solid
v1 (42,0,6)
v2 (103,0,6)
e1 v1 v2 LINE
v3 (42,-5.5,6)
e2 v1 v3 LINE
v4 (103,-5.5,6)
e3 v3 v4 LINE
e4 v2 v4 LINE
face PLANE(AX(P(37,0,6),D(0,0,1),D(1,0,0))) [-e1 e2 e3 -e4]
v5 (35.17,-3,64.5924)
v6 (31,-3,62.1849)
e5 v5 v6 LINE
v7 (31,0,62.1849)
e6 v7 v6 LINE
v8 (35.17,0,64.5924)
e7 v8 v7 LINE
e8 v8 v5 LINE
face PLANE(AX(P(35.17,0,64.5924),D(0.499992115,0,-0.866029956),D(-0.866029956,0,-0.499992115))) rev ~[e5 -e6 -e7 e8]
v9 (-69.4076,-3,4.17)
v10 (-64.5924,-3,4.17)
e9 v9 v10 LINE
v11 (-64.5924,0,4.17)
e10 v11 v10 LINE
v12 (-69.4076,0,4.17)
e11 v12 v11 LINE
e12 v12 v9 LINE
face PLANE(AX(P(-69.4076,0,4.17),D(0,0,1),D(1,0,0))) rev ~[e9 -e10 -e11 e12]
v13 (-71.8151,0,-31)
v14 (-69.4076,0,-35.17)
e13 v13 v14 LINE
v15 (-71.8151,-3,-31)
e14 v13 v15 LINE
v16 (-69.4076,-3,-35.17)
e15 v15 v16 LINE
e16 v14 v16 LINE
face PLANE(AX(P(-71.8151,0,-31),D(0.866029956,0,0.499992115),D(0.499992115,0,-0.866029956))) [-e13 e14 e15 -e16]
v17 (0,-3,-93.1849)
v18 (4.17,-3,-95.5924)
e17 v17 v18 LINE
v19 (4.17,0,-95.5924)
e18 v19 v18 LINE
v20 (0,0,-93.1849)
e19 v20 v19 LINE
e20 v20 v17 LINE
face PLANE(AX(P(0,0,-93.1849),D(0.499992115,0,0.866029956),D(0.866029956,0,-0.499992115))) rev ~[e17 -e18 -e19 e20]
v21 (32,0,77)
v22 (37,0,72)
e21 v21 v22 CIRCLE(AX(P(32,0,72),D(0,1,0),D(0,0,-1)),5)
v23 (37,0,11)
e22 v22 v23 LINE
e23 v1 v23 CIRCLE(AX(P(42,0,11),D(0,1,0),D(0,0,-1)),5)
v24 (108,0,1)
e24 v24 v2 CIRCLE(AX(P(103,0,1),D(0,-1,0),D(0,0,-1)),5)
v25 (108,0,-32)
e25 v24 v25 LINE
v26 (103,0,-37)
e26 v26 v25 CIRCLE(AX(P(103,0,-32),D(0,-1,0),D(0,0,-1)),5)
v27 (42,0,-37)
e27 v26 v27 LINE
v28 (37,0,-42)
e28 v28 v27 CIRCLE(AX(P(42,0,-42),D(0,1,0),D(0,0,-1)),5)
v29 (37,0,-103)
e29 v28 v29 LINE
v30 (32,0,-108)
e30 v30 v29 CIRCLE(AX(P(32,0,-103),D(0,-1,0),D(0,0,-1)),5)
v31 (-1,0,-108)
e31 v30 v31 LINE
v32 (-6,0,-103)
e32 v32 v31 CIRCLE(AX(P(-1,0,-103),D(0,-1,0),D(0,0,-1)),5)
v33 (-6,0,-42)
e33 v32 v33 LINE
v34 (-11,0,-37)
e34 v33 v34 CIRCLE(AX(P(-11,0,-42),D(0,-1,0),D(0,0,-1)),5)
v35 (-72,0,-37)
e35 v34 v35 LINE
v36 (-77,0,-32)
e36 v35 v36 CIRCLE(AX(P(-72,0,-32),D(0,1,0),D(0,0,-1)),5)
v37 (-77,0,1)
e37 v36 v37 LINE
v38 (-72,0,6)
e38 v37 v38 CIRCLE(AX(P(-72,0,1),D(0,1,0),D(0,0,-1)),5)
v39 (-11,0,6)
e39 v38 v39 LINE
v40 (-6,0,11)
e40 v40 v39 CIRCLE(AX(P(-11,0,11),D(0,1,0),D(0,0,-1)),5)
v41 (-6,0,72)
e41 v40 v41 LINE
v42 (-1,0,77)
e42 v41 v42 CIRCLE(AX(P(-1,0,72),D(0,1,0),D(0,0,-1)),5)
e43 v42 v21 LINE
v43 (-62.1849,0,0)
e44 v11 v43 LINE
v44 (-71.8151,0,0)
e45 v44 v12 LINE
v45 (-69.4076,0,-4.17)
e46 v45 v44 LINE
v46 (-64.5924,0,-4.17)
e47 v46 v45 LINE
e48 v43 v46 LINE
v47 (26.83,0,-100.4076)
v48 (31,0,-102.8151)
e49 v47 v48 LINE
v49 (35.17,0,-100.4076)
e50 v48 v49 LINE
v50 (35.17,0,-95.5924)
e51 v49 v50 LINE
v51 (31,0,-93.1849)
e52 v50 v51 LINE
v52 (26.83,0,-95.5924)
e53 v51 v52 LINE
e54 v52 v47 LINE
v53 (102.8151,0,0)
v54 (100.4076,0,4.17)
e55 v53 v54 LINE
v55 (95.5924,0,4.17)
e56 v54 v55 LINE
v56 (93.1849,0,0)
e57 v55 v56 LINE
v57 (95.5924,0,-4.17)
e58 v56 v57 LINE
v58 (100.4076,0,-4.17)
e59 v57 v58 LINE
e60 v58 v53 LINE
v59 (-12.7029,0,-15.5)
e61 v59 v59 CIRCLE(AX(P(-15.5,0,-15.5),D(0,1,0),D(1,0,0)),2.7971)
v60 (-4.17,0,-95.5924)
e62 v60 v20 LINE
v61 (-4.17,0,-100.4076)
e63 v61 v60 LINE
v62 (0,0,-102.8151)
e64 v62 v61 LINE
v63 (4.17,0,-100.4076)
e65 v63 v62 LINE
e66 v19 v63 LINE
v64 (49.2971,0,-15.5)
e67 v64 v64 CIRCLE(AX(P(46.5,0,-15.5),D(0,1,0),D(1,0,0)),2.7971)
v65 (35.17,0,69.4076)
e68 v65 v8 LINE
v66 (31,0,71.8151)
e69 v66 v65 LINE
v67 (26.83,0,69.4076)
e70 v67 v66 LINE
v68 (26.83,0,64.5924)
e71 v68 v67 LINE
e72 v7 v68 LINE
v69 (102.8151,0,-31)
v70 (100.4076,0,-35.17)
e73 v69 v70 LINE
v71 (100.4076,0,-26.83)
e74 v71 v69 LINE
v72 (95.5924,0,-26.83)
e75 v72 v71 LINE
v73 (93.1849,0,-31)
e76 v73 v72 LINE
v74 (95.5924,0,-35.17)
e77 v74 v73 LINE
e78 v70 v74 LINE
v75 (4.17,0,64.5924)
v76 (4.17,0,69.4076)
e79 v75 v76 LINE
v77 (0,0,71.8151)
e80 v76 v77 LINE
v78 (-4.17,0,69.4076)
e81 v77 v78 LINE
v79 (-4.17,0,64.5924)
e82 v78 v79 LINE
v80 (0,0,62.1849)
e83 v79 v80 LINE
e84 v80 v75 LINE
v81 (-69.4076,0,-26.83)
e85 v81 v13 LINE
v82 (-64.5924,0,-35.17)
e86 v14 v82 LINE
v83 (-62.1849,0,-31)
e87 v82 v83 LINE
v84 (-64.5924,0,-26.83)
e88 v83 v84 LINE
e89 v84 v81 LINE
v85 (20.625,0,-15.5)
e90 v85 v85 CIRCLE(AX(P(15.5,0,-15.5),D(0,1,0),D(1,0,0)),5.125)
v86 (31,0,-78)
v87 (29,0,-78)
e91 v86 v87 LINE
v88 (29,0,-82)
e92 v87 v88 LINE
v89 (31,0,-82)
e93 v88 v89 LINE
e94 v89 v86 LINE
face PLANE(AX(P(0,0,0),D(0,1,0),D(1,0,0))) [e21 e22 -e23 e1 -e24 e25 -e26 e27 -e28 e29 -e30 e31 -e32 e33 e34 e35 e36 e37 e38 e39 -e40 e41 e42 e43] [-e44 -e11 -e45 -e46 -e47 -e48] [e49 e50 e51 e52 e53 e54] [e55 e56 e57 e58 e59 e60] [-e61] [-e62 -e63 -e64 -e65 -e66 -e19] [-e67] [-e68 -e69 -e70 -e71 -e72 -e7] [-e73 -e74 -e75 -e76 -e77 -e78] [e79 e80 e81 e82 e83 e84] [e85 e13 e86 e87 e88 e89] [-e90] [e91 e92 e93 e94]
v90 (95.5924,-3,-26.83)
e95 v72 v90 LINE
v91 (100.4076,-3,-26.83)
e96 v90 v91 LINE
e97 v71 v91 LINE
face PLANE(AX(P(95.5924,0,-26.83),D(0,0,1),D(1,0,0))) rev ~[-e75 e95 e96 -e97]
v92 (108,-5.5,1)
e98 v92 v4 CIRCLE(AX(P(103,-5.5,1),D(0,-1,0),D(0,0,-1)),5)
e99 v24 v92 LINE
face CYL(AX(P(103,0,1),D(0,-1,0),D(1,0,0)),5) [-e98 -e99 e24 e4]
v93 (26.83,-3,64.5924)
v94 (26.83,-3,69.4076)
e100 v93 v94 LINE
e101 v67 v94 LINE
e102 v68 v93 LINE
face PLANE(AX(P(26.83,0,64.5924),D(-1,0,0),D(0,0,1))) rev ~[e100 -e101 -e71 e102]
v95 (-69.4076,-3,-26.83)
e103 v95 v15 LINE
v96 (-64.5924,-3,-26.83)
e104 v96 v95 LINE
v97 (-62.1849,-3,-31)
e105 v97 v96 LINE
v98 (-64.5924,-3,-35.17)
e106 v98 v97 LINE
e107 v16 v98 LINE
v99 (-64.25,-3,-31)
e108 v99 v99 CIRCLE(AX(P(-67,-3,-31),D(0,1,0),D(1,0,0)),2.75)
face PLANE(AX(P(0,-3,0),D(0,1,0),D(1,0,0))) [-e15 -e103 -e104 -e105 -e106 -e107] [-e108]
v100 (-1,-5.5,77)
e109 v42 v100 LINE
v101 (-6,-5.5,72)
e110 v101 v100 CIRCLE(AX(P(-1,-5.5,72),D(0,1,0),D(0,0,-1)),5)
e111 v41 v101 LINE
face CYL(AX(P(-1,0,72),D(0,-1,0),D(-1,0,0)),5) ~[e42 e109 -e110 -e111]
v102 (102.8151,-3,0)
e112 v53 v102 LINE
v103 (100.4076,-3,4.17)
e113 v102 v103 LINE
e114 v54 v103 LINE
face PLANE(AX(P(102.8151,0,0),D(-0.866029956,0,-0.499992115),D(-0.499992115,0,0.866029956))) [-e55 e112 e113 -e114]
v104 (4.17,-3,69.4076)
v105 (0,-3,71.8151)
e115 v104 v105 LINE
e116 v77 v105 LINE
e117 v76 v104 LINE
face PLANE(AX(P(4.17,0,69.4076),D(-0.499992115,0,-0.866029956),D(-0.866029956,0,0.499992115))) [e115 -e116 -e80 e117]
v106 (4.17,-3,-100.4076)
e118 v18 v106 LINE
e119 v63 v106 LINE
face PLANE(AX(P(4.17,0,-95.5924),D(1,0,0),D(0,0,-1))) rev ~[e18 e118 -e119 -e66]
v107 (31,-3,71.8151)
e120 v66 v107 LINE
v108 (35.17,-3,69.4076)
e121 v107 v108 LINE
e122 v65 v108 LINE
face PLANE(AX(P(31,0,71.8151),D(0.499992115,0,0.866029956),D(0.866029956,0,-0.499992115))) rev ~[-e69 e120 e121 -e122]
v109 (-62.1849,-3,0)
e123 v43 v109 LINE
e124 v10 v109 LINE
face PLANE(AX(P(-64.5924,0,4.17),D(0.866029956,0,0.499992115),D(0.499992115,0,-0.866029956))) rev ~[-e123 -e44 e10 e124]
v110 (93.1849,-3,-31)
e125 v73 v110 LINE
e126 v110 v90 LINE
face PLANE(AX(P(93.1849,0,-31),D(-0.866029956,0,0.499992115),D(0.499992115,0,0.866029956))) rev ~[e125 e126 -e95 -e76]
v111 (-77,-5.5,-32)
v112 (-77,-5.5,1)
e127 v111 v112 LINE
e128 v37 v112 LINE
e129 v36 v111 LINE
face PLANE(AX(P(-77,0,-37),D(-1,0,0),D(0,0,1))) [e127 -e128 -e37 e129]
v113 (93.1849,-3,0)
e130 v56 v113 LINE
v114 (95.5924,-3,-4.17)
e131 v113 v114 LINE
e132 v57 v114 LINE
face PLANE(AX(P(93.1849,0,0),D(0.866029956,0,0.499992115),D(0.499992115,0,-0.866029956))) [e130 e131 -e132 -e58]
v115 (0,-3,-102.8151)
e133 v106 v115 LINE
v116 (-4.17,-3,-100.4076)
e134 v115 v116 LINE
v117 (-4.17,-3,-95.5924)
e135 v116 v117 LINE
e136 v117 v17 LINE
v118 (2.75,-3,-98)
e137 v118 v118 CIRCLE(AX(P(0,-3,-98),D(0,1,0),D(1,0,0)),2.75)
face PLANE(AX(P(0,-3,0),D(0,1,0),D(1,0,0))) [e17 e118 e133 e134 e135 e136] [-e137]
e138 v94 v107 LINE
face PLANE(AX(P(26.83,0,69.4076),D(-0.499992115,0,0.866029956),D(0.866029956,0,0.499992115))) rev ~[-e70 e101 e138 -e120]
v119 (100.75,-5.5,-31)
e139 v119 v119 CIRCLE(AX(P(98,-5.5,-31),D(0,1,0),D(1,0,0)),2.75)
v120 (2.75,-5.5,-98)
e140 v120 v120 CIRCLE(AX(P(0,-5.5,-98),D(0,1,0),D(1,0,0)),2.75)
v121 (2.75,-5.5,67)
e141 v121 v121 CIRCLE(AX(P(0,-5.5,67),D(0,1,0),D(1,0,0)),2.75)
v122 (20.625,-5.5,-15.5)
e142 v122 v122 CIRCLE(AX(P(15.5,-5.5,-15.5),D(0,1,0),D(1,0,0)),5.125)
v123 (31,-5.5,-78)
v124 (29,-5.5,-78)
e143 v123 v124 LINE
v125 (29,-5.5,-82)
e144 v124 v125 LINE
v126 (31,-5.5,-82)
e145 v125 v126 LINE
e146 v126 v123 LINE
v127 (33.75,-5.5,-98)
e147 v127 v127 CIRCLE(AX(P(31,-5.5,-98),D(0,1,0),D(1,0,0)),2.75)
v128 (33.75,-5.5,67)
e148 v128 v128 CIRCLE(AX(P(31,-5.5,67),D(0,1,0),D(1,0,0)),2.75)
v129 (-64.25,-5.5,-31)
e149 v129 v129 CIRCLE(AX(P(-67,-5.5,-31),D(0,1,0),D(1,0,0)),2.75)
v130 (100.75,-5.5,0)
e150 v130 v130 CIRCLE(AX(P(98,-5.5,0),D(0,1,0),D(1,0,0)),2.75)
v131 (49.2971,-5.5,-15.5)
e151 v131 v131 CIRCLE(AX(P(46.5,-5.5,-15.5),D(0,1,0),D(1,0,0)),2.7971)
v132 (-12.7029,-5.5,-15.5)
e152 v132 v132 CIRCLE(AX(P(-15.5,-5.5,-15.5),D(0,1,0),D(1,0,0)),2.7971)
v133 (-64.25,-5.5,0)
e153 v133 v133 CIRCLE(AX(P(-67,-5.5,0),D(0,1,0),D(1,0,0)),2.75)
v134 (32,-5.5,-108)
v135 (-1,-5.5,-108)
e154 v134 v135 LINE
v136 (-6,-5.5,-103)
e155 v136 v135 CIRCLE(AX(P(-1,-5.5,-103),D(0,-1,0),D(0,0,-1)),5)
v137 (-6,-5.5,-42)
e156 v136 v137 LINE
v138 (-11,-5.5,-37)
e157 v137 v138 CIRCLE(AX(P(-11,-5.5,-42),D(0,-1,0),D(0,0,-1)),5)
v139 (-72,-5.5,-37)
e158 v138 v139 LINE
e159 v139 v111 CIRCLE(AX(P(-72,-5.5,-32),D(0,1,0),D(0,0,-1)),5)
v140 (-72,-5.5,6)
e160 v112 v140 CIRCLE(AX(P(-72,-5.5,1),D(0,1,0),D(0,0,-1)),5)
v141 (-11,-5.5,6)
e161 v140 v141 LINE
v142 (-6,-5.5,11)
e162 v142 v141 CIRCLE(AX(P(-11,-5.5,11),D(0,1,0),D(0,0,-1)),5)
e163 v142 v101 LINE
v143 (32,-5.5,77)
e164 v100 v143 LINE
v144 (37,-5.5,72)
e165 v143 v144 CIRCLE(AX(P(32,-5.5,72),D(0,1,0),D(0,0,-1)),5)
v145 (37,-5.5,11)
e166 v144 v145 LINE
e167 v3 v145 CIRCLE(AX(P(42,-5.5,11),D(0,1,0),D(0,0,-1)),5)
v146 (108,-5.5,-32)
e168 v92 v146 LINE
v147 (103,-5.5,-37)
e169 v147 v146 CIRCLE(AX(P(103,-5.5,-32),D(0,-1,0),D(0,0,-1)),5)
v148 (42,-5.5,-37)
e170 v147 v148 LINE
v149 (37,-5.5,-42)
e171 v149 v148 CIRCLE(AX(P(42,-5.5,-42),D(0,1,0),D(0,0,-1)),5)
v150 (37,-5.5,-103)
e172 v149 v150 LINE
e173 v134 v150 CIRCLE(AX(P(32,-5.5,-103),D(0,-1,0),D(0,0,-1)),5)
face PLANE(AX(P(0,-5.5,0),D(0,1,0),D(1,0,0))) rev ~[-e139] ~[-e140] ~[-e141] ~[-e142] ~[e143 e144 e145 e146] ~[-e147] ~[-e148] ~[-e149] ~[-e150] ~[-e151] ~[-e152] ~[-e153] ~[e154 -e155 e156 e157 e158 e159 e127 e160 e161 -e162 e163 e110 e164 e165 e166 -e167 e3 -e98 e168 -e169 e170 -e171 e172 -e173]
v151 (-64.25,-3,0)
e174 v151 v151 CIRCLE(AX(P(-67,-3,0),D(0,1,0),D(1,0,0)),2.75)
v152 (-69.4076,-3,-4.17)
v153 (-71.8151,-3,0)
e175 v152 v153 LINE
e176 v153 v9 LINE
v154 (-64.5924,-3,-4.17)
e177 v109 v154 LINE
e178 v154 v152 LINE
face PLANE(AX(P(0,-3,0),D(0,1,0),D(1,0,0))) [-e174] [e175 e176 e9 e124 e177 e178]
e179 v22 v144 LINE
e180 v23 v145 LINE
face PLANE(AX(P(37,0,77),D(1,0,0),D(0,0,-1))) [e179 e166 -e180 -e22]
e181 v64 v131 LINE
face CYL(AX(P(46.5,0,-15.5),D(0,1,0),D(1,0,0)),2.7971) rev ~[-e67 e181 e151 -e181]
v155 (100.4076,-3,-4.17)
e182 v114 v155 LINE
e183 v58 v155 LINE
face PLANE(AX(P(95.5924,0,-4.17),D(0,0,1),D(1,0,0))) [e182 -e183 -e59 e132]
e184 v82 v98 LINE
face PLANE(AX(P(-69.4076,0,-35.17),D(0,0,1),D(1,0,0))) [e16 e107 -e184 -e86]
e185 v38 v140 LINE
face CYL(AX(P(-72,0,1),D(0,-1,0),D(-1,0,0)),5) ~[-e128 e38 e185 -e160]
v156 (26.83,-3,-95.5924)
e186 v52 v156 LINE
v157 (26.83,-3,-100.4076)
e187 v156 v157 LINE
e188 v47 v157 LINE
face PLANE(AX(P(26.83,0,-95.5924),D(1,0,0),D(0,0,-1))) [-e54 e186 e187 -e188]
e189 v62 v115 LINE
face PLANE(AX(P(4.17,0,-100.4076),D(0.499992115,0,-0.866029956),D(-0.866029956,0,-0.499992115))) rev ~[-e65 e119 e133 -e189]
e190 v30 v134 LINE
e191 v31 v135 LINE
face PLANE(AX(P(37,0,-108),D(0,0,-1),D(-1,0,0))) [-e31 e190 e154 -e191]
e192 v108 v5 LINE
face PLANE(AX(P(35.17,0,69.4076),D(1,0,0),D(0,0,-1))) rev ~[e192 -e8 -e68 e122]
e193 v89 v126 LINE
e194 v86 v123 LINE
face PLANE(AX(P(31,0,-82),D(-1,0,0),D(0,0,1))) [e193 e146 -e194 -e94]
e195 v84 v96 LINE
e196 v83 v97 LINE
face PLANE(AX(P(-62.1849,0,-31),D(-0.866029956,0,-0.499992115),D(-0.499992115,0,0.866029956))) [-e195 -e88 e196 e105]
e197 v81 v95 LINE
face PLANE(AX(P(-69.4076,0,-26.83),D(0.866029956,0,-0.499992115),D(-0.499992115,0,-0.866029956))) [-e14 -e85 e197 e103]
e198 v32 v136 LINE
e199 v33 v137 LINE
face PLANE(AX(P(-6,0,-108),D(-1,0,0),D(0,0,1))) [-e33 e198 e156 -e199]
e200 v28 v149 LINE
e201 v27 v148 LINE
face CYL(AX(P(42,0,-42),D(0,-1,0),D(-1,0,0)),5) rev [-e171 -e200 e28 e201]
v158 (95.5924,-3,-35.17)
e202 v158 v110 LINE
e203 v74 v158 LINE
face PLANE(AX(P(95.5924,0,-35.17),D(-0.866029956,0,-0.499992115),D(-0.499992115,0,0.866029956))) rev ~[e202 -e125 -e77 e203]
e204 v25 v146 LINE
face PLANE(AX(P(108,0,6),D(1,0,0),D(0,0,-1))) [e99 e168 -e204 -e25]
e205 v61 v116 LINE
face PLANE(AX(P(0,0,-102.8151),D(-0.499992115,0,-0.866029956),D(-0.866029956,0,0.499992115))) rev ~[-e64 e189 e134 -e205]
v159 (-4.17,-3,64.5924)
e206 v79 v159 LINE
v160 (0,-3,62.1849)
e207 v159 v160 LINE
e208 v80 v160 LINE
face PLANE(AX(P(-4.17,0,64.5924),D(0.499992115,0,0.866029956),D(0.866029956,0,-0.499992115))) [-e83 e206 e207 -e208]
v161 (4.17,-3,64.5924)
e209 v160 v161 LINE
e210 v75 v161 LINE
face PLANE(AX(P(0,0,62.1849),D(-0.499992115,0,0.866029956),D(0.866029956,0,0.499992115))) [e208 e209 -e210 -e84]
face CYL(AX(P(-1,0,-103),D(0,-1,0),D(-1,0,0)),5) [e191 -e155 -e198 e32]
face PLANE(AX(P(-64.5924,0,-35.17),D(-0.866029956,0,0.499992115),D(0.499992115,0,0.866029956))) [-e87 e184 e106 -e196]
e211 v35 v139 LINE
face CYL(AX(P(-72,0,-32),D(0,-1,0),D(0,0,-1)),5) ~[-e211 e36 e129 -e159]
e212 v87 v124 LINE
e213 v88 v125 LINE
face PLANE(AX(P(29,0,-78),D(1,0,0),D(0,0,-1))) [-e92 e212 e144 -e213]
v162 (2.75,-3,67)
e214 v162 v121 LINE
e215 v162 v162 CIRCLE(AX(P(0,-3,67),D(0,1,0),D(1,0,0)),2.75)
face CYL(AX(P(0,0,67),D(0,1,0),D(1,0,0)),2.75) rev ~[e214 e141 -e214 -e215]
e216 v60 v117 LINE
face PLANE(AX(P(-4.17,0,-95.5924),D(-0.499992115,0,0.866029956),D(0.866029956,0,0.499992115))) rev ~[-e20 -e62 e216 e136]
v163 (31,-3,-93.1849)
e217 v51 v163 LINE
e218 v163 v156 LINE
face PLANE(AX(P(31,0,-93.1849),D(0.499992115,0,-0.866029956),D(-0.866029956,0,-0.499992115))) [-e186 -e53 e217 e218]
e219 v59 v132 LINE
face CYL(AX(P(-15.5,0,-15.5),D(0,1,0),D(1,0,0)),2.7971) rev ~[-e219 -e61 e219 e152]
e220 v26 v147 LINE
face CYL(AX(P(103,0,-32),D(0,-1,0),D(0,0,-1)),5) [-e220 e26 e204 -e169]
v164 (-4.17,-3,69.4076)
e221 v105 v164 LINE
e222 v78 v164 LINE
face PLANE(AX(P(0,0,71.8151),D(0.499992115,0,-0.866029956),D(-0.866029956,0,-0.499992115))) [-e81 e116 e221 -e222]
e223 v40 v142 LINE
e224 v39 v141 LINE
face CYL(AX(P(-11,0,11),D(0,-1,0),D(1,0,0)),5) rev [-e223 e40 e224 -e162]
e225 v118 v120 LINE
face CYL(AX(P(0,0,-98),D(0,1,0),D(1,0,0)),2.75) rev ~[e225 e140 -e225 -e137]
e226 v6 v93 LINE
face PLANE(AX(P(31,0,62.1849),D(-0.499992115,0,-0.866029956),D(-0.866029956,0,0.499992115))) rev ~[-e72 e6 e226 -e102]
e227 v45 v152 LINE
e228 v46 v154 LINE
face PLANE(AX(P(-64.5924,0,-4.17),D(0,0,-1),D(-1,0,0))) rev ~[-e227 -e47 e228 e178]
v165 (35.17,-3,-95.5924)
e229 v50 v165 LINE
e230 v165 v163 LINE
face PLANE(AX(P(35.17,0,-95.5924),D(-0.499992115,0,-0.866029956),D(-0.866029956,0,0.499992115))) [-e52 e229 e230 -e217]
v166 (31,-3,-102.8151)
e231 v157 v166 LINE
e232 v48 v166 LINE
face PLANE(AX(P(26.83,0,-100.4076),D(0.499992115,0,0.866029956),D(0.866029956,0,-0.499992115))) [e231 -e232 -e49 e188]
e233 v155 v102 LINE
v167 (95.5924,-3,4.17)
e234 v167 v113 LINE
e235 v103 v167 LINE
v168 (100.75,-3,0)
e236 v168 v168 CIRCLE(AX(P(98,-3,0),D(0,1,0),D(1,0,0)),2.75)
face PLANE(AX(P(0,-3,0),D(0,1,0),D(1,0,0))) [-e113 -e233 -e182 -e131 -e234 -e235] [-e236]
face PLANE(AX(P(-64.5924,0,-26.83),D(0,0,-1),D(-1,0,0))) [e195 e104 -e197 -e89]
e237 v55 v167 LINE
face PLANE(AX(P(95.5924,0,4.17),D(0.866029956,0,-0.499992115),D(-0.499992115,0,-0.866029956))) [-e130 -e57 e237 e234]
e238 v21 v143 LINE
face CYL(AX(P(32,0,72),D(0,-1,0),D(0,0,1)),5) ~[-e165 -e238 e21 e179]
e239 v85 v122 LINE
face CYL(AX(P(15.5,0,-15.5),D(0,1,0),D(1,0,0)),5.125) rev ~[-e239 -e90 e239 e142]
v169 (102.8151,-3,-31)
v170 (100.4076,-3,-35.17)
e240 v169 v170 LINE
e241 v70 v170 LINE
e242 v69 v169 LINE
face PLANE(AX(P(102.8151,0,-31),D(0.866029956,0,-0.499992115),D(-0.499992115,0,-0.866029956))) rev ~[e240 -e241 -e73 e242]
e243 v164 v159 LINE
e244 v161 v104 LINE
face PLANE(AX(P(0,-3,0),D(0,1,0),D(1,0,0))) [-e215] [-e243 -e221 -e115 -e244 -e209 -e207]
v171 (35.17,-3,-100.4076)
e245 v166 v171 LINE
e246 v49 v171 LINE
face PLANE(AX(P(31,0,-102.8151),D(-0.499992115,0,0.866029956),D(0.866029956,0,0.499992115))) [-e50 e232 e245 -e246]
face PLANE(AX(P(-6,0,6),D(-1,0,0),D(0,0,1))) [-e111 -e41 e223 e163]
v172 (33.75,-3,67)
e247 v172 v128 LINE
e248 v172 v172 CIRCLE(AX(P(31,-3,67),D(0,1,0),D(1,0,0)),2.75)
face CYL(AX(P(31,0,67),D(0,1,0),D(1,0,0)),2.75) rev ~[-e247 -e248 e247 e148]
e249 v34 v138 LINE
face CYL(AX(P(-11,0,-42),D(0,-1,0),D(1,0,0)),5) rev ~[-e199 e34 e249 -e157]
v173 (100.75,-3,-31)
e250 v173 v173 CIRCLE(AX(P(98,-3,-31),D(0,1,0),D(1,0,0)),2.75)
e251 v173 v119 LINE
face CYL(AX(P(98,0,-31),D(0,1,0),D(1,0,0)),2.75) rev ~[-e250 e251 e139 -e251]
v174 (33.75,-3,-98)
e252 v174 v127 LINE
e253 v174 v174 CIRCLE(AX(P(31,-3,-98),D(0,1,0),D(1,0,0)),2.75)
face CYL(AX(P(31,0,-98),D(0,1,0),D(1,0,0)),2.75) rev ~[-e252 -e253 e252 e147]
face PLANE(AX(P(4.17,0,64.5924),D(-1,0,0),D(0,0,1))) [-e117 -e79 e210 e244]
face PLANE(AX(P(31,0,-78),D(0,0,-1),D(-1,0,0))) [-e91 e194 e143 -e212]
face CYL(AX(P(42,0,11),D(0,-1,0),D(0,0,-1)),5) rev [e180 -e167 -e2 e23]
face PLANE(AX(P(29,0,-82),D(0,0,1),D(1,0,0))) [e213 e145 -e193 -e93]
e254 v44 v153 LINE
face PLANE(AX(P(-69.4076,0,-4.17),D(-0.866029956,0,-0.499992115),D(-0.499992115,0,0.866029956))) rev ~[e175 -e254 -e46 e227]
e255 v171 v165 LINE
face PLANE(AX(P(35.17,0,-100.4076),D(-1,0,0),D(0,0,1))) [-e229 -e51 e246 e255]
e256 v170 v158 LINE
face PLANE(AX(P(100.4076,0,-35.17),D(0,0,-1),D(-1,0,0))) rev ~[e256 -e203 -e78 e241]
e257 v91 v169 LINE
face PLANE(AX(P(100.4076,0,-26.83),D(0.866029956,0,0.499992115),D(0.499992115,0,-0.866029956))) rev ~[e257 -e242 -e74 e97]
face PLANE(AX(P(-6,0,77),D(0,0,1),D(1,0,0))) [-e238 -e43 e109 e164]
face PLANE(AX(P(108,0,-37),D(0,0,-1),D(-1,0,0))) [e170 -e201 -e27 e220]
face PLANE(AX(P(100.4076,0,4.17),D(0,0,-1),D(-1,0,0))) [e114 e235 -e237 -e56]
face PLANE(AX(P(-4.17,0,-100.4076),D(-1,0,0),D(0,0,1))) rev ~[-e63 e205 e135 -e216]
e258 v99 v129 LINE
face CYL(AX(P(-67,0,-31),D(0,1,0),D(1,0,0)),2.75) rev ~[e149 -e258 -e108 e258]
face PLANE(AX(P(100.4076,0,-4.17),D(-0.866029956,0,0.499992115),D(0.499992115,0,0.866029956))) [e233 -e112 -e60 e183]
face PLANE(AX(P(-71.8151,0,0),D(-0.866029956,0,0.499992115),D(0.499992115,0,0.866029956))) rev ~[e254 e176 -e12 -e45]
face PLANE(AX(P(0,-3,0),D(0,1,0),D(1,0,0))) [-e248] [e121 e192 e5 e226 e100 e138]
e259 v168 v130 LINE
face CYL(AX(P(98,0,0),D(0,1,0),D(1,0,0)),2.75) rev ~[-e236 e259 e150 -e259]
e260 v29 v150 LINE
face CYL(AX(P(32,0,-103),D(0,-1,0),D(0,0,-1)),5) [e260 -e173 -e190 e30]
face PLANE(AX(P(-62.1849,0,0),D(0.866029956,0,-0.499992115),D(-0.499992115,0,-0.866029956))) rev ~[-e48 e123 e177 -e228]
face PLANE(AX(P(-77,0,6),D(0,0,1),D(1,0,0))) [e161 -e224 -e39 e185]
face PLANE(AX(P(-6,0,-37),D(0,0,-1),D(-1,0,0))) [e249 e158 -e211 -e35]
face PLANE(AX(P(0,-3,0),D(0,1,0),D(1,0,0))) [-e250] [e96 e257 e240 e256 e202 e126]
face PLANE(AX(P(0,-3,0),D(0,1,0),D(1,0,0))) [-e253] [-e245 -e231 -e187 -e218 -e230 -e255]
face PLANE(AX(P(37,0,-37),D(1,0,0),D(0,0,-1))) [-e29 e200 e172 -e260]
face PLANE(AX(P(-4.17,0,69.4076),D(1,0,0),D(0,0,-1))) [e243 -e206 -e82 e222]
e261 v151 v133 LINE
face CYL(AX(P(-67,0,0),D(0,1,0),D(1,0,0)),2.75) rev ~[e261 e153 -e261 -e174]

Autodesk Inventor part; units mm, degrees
ref_plane "YZ Plane" through (0, 0, 0) normal (1, 0, 0) x (0, 1, 0)
ref_plane "XZ Plane" through (0, 0, 0) normal (0, 1, 0) x (-1, 0, 0)
ref_plane "XY Plane" through (0, 0, 0) normal (0, 0, 1) x (1, 0, 0)
sketch "Sketch1" plane through (0, 0, 0) normal (0, 1, 0) x (1, 0, 0)
  circle A0 centre (0, 0) radius 2.25
  circle A1 centre (31, 0) radius 2.25
  circle A2 centre (0, 31) radius 2.25
  circle A3 centre (31, 31) radius 2.25
  circle A4 centre (15.5, 15.5) radius 5.125
  line L0 (-6, 37) -> (37, 37)
  line L1 (37, 37) -> (37, -6)
  line L2 (37, -6) -> (-6, -6)
  line L3 (-6, -6) -> (-6, 37)
  line L4 (-6, 37) -> (37, -6) construction
  line L5 (37, 37) -> (-6, -6) construction
  line L6 (-6, -6) -> (37, -6)
  circle A5 centre (0, 98) radius 2.75
  circle A6 centre (31, 98) radius 2.75
  line L7 (-6, 37) -> (37, 37)
  line L8 (37, 37) -> (37, 108)
  line L9 (37, 108) -> (-6, 108)
  line L10 (-6, 108) -> (-6, 37)
  line L11 (15.5, 15.5) -> (22.827, 15.5)
  line L12 (13, 103) -> (18, 103)
  line L13 (15.5, 103) -> (15.5, 96.4439)
  arc A7 (0, 95.25) -> (0, 100.75) centre (0, 98) ccw
  circle A8 centre (-15.5, 15.5) radius 2.7971
  circle A9 centre (46.5, 15.5) radius 2.7971
  line L14 (0, 93.4736) -> (-3.92, 95.7368)
  line L15 (-3.92, 95.7368) -> (-3.92, 100.2632)
  line L16 (-3.92, 100.2632) -> (0, 102.5264)
  line L17 (0, 102.5264) -> (3.92, 100.2632)
  line L18 (3.92, 100.2632) -> (3.92, 95.7368)
  line L19 (3.92, 95.7368) -> (0, 93.4736)
  line L20 (4.17, 100.4076) -> (0, 102.8151)
  line L21 (0, 102.8151) -> (-4.17, 100.4076)
  line L22 (-4.17, 100.4076) -> (-4.17, 95.5924)
  line L23 (-4.17, 95.5924) -> (0, 93.1849)
  line L24 (0, 93.1849) -> (4.17, 95.5924)
  line L25 (4.17, 95.5924) -> (4.17, 100.4076)
  circle A10 centre (31, 98) radius 2.75
  circle A11 centre (31, 98) radius 2.75
  arc A12 (31, 100.75) -> (31, 95.25) centre (31, 98) ccw
  line L26 (31, 93.4736) -> (34.92, 95.7368)
  line L27 (34.92, 95.7368) -> (34.92, 100.2632)
  line L28 (34.92, 100.2632) -> (31, 102.5264)
  line L29 (31, 102.5264) -> (27.08, 100.2632)
  line L30 (27.08, 100.2632) -> (27.08, 95.7368)
  line L31 (27.08, 95.7368) -> (31, 93.4736)
  line L32 (26.83, 100.4076) -> (31, 102.8151)
  line L33 (31, 102.8151) -> (35.17, 100.4076)
  line L34 (35.17, 100.4076) -> (35.17, 95.5924)
  line L35 (35.17, 95.5924) -> (31, 93.1849)
  line L36 (31, 93.1849) -> (26.83, 95.5924)
  line L37 (26.83, 95.5924) -> (26.83, 100.4076)
  line L38 (-64.7368, -3.92) -> (-69.2632, -3.92)
  line L39 (-69.4076, -4.17) -> (-64.5924, -4.17)
  line L40 (-69.2632, -3.92) -> (-71.5264, 0)
  line L41 (-71.8151, 0) -> (-69.4076, -4.17)
  circle A13 centre (-67, 31) radius 2.75
  line L42 (-72, 13) -> (-72, 18)
  line L43 (-69.2632, 27.08) -> (-64.7368, 27.08)
  line L44 (-64.7368, 34.92) -> (-69.2632, 34.92)
  line L45 (-64.5924, 26.83) -> (-69.4076, 26.83)
  circle A14 centre (-67, 31) radius 2.75
  circle A15 centre (-67, 31) radius 2.75
  arc A16 (-69.75, 31) -> (-64.25, 31) centre (-67, 31) ccw
  line L46 (-72, 15.5) -> (-65.4439, 15.5)
  line L47 (-69.2632, 34.92) -> (-71.5264, 31)
  line L48 (-71.8151, 31) -> (-69.4076, 35.17)
  line L49 (-69.4076, 35.17) -> (-64.5924, 35.17)
  line L50 (-71.5264, 31) -> (-69.2632, 27.08)
  line L51 (-69.4076, 26.83) -> (-71.8151, 31)
  line L52 (-62.4736, 0) -> (-64.7368, -3.92)
  line L53 (-64.5924, -4.17) -> (-62.1849, 0)
  circle A17 centre (-67, 0) radius 2.75
  arc A18 (-64.25, 0) -> (-69.75, 0) centre (-67, 0) ccw
  line L54 (-71.5264, 0) -> (-69.2632, 3.92)
  line L55 (-69.4076, 4.17) -> (-71.8151, 0)
  line L56 (-69.2632, 3.92) -> (-64.7368, 3.92)
  line L57 (-64.5924, 4.17) -> (-69.4076, 4.17)
  line L58 (-62.1849, 0) -> (-64.5924, 4.17)
  line L59 (-64.7368, 3.92) -> (-62.4736, 0)
  line L60 (-62.1849, 31) -> (-64.5924, 26.83)
  line L61 (-64.7368, 27.08) -> (-62.4736, 31)
  line L62 (-77, -6) -> (-6, -6)
  line L63 (-62.4736, 31) -> (-64.7368, 34.92)
  line L64 (-64.5924, 35.17) -> (-62.1849, 31)
  line L65 (-77, 37) -> (-77, -6)
  line L66 (-6, 37) -> (-77, 37)
  line L67 (34.92, -64.7368) -> (34.92, -69.2632)
  line L68 (35.17, -69.4076) -> (35.17, -64.5924)
  line L69 (34.92, -69.2632) -> (31, -71.5264)
  line L70 (31, -71.8151) -> (35.17, -69.4076)
  circle A19 centre (0, -67) radius 2.75
  line L71 (18, -72) -> (13, -72)
  line L72 (3.92, -69.2632) -> (3.92, -64.7368)
  line L73 (-3.92, -64.7368) -> (-3.92, -69.2632)
  line L74 (4.17, -64.5924) -> (4.17, -69.4076)
  circle A20 centre (0, -67) radius 2.75
  circle A21 centre (0, -67) radius 2.75
  arc A22 (0, -69.75) -> (0, -64.25) centre (0, -67) ccw
  line L75 (15.5, -72) -> (15.5, -65.4439)
  line L76 (-3.92, -69.2632) -> (0, -71.5264)
  line L77 (0, -71.8151) -> (-4.17, -69.4076)
  line L78 (-4.17, -69.4076) -> (-4.17, -64.5924)
  line L79 (0, -71.5264) -> (3.92, -69.2632)
  line L80 (4.17, -69.4076) -> (0, -71.8151)
  line L81 (31, -62.4736) -> (34.92, -64.7368)
  line L82 (35.17, -64.5924) -> (31, -62.1849)
  circle A23 centre (31, -67) radius 2.75
  arc A24 (31, -64.25) -> (31, -69.75) centre (31, -67) ccw
  line L83 (31, -71.5264) -> (27.08, -69.2632)
  line L84 (26.83, -69.4076) -> (31, -71.8151)
  line L85 (27.08, -69.2632) -> (27.08, -64.7368)
  line L86 (26.83, -64.5924) -> (26.83, -69.4076)
  line L87 (31, -62.1849) -> (26.83, -64.5924)
  line L88 (27.08, -64.7368) -> (31, -62.4736)
  line L89 (0, -62.1849) -> (4.17, -64.5924)
  line L90 (3.92, -64.7368) -> (0, -62.4736)
  line L91 (37, -77) -> (37, -6)
  line L92 (0, -62.4736) -> (-3.92, -64.7368)
  line L93 (-4.17, -64.5924) -> (0, -62.1849)
  line L94 (-6, -77) -> (37, -77)
  line L95 (-6, -6) -> (-6, -77)
  line L96 (95.7368, 34.92) -> (100.2632, 34.92)
  line L97 (100.4076, 35.17) -> (95.5924, 35.17)
  line L98 (100.2632, 34.92) -> (102.5264, 31)
  line L99 (102.8151, 31) -> (100.4076, 35.17)
  circle A25 centre (98, 0) radius 2.75
  line L100 (103, 18) -> (103, 13)
  line L101 (100.2632, 3.92) -> (95.7368, 3.92)
  line L102 (95.7368, -3.92) -> (100.2632, -3.92)
  line L103 (95.5924, 4.17) -> (100.4076, 4.17)
  circle A26 centre (98, 0) radius 2.75
  circle A27 centre (98, 0) radius 2.75
  arc A28 (100.75, 0) -> (95.25, 0) centre (98, 0) ccw
  line L104 (103, 15.5) -> (96.4439, 15.5)
  line L105 (100.2632, -3.92) -> (102.5264, 0)
  line L106 (102.8151, 0) -> (100.4076, -4.17)
  line L107 (100.4076, -4.17) -> (95.5924, -4.17)
  line L108 (102.5264, 0) -> (100.2632, 3.92)
  line L109 (100.4076, 4.17) -> (102.8151, 0)
  line L110 (93.4736, 31) -> (95.7368, 34.92)
  line L111 (95.5924, 35.17) -> (93.1849, 31)
  circle A29 centre (98, 31) radius 2.75
  arc A30 (95.25, 31) -> (100.75, 31) centre (98, 31) ccw
  line L112 (102.5264, 31) -> (100.2632, 27.08)
  line L113 (100.4076, 26.83) -> (102.8151, 31)
  line L114 (100.2632, 27.08) -> (95.7368, 27.08)
  line L115 (95.5924, 26.83) -> (100.4076, 26.83)
  line L116 (93.1849, 31) -> (95.5924, 26.83)
  line L117 (95.7368, 27.08) -> (93.4736, 31)
  line L118 (93.1849, 0) -> (95.5924, 4.17)
  line L119 (95.7368, 3.92) -> (93.4736, 0)
  line L120 (108, 37) -> (37, 37)
  line L121 (93.4736, 0) -> (95.7368, -3.92)
  line L122 (95.5924, -4.17) -> (93.1849, 0)
  line L123 (108, -6) -> (108, 37)
  line L124 (37, -6) -> (108, -6)
  point P0 (37, 37)
  point P1 (37, 37)
  point P2 (-3.5, 98)
  point P3 (34.5, 98)
  point P4 (-67, -3.5)
  point P5 (-67, 34.5)
  point P6 (34.5, -67)
  point P7 (-3.5, -67)
  point P8 (98, 34.5)
  point P9 (98, -3.5)
  point P10 (-6, -6)
  point P11 (-6, -6)
  point P12 (-6, -6)
  point P13 (-6, -6)
  point P14 (-6, -6)
  point P15 (37, 37)
  dimension "d3" = 4.5
  dimension "d5" = 31
  dimension "d6" = 10.25
  dimension "d8" = 43
  dimension "d23" = 5.5
  dimension "d24" = 31
  dimension "d25" = 31
  dimension "d27" = 6
  dimension "d28" = 10
  dimension "d71" = 62
  dimension "d72" = 31
  dimension "d73" = 7.84
  dimension "d74" = 0.25
  dimension "d81" = 82.5
  dimension "d84" = 360
extrude "Extrusion4" add sketch "Sketch1" against normal blind 5.5 contours A0 | A1 | A2 | A3 | L10 L9 L8 L0 | L0 L1 L2 L3 | L3 L62 L65 L66 | L120 L123 L124 L1 | L2 L91 L94 L95 | L14 L15 L16 L17 L18 L19 | L25 L24 L23 L22 L21 L20 | L31 L30 L29 L28 L27 L26 | L32 L33 L34 L35 L36 L37 | L38 L40 L54 L56 L59 L52 | L41 L55 L57 L58 L53 L39 | L50 L47 L44 L63 L61 L43 | L45 L51 L48 L49 L64 L60 | L67 L69 L83 L85 L88 L81 | L70 L84 L86 L87 L82 L68 | L79 L76 L73 L92 L90 L72 | L74 L80 L77 L78 L93 L89 | L96 L98 L112 L114 L117 L110 | L99 L113 L115 L116 L111 L97 | L108 L105 L102 L121 L119 L101 | L103 L109 L106 L107 L122 L118
fillet "Fillet4" radius 5 4 edges at (-6, -2.75, -37) (-6, -2.75, 6) (37, -2.75, 6) (37, -2.75, -37)
fillet "Fillet5" radius 5 8 edges at (37, -2.75, -108) (-6, -2.75, -108) (108, -2.75, 6) (108, -2.75, -37) (37, -2.75, 77) (-6, -2.75, 77) (-77, -2.75, 6) (-77, -2.75, -37)
extrude "Extrusion7" cut sketch "Sketch1" against normal blind 3 contours A5 | A6 | L14 L15 L16 L17 L18 L19 | L25 L24 L23 L22 L21 L20 | L31 L30 L29 L28 L27 L26 | L32 L33 L34 L35 L36 L37 | L38 L40 L54 L56 L59 L52 | L41 L55 L57 L58 L53 L39 | A13 | L50 L47 L44 L63 L61 L43 | L45 L51 L48 L49 L64 L60 | A17 | L67 L69 L83 L85 L88 L81 | L70 L84 L86 L87 L82 L68 | A19 | L79 L76 L73 L92 L90 L72 | L74 L80 L77 L78 L93 L89 | A23 | L96 L98 L112 L114 L117 L110 | L99 L113 L115 L116 L111 L97 | A25 | L108 L105 L102 L121 L119 L101 | L103 L109 L106 L107 L122 L118 | A29
sketch "Sketch6" plane through (0, 0, 0) normal (0, 1, 0) x (1, 0, 0)
  line L0 (31, 78) -> (29, 78)
  line L1 (29, 78) -> (29, 82)
  line L2 (29, 82) -> (31, 82)
  line L3 (31, 82) -> (31, 78)
  line L4 (37, 42) -> (37, 103) projected
  line L5 (32, 108) -> (-1, 108) projected
  circle A0 centre (31, 98) radius 2.75 projected
  point P0 (0, 0)
  dimension "d86" = 2
  dimension "d87" = 4
  dimension "d88" = 6
  dimension "d92" = 16
extrude "Extrusion8" cut sketch "Sketch6" against normal through all contours L0 L1 L2 L3
properties part number "motor_holder"
